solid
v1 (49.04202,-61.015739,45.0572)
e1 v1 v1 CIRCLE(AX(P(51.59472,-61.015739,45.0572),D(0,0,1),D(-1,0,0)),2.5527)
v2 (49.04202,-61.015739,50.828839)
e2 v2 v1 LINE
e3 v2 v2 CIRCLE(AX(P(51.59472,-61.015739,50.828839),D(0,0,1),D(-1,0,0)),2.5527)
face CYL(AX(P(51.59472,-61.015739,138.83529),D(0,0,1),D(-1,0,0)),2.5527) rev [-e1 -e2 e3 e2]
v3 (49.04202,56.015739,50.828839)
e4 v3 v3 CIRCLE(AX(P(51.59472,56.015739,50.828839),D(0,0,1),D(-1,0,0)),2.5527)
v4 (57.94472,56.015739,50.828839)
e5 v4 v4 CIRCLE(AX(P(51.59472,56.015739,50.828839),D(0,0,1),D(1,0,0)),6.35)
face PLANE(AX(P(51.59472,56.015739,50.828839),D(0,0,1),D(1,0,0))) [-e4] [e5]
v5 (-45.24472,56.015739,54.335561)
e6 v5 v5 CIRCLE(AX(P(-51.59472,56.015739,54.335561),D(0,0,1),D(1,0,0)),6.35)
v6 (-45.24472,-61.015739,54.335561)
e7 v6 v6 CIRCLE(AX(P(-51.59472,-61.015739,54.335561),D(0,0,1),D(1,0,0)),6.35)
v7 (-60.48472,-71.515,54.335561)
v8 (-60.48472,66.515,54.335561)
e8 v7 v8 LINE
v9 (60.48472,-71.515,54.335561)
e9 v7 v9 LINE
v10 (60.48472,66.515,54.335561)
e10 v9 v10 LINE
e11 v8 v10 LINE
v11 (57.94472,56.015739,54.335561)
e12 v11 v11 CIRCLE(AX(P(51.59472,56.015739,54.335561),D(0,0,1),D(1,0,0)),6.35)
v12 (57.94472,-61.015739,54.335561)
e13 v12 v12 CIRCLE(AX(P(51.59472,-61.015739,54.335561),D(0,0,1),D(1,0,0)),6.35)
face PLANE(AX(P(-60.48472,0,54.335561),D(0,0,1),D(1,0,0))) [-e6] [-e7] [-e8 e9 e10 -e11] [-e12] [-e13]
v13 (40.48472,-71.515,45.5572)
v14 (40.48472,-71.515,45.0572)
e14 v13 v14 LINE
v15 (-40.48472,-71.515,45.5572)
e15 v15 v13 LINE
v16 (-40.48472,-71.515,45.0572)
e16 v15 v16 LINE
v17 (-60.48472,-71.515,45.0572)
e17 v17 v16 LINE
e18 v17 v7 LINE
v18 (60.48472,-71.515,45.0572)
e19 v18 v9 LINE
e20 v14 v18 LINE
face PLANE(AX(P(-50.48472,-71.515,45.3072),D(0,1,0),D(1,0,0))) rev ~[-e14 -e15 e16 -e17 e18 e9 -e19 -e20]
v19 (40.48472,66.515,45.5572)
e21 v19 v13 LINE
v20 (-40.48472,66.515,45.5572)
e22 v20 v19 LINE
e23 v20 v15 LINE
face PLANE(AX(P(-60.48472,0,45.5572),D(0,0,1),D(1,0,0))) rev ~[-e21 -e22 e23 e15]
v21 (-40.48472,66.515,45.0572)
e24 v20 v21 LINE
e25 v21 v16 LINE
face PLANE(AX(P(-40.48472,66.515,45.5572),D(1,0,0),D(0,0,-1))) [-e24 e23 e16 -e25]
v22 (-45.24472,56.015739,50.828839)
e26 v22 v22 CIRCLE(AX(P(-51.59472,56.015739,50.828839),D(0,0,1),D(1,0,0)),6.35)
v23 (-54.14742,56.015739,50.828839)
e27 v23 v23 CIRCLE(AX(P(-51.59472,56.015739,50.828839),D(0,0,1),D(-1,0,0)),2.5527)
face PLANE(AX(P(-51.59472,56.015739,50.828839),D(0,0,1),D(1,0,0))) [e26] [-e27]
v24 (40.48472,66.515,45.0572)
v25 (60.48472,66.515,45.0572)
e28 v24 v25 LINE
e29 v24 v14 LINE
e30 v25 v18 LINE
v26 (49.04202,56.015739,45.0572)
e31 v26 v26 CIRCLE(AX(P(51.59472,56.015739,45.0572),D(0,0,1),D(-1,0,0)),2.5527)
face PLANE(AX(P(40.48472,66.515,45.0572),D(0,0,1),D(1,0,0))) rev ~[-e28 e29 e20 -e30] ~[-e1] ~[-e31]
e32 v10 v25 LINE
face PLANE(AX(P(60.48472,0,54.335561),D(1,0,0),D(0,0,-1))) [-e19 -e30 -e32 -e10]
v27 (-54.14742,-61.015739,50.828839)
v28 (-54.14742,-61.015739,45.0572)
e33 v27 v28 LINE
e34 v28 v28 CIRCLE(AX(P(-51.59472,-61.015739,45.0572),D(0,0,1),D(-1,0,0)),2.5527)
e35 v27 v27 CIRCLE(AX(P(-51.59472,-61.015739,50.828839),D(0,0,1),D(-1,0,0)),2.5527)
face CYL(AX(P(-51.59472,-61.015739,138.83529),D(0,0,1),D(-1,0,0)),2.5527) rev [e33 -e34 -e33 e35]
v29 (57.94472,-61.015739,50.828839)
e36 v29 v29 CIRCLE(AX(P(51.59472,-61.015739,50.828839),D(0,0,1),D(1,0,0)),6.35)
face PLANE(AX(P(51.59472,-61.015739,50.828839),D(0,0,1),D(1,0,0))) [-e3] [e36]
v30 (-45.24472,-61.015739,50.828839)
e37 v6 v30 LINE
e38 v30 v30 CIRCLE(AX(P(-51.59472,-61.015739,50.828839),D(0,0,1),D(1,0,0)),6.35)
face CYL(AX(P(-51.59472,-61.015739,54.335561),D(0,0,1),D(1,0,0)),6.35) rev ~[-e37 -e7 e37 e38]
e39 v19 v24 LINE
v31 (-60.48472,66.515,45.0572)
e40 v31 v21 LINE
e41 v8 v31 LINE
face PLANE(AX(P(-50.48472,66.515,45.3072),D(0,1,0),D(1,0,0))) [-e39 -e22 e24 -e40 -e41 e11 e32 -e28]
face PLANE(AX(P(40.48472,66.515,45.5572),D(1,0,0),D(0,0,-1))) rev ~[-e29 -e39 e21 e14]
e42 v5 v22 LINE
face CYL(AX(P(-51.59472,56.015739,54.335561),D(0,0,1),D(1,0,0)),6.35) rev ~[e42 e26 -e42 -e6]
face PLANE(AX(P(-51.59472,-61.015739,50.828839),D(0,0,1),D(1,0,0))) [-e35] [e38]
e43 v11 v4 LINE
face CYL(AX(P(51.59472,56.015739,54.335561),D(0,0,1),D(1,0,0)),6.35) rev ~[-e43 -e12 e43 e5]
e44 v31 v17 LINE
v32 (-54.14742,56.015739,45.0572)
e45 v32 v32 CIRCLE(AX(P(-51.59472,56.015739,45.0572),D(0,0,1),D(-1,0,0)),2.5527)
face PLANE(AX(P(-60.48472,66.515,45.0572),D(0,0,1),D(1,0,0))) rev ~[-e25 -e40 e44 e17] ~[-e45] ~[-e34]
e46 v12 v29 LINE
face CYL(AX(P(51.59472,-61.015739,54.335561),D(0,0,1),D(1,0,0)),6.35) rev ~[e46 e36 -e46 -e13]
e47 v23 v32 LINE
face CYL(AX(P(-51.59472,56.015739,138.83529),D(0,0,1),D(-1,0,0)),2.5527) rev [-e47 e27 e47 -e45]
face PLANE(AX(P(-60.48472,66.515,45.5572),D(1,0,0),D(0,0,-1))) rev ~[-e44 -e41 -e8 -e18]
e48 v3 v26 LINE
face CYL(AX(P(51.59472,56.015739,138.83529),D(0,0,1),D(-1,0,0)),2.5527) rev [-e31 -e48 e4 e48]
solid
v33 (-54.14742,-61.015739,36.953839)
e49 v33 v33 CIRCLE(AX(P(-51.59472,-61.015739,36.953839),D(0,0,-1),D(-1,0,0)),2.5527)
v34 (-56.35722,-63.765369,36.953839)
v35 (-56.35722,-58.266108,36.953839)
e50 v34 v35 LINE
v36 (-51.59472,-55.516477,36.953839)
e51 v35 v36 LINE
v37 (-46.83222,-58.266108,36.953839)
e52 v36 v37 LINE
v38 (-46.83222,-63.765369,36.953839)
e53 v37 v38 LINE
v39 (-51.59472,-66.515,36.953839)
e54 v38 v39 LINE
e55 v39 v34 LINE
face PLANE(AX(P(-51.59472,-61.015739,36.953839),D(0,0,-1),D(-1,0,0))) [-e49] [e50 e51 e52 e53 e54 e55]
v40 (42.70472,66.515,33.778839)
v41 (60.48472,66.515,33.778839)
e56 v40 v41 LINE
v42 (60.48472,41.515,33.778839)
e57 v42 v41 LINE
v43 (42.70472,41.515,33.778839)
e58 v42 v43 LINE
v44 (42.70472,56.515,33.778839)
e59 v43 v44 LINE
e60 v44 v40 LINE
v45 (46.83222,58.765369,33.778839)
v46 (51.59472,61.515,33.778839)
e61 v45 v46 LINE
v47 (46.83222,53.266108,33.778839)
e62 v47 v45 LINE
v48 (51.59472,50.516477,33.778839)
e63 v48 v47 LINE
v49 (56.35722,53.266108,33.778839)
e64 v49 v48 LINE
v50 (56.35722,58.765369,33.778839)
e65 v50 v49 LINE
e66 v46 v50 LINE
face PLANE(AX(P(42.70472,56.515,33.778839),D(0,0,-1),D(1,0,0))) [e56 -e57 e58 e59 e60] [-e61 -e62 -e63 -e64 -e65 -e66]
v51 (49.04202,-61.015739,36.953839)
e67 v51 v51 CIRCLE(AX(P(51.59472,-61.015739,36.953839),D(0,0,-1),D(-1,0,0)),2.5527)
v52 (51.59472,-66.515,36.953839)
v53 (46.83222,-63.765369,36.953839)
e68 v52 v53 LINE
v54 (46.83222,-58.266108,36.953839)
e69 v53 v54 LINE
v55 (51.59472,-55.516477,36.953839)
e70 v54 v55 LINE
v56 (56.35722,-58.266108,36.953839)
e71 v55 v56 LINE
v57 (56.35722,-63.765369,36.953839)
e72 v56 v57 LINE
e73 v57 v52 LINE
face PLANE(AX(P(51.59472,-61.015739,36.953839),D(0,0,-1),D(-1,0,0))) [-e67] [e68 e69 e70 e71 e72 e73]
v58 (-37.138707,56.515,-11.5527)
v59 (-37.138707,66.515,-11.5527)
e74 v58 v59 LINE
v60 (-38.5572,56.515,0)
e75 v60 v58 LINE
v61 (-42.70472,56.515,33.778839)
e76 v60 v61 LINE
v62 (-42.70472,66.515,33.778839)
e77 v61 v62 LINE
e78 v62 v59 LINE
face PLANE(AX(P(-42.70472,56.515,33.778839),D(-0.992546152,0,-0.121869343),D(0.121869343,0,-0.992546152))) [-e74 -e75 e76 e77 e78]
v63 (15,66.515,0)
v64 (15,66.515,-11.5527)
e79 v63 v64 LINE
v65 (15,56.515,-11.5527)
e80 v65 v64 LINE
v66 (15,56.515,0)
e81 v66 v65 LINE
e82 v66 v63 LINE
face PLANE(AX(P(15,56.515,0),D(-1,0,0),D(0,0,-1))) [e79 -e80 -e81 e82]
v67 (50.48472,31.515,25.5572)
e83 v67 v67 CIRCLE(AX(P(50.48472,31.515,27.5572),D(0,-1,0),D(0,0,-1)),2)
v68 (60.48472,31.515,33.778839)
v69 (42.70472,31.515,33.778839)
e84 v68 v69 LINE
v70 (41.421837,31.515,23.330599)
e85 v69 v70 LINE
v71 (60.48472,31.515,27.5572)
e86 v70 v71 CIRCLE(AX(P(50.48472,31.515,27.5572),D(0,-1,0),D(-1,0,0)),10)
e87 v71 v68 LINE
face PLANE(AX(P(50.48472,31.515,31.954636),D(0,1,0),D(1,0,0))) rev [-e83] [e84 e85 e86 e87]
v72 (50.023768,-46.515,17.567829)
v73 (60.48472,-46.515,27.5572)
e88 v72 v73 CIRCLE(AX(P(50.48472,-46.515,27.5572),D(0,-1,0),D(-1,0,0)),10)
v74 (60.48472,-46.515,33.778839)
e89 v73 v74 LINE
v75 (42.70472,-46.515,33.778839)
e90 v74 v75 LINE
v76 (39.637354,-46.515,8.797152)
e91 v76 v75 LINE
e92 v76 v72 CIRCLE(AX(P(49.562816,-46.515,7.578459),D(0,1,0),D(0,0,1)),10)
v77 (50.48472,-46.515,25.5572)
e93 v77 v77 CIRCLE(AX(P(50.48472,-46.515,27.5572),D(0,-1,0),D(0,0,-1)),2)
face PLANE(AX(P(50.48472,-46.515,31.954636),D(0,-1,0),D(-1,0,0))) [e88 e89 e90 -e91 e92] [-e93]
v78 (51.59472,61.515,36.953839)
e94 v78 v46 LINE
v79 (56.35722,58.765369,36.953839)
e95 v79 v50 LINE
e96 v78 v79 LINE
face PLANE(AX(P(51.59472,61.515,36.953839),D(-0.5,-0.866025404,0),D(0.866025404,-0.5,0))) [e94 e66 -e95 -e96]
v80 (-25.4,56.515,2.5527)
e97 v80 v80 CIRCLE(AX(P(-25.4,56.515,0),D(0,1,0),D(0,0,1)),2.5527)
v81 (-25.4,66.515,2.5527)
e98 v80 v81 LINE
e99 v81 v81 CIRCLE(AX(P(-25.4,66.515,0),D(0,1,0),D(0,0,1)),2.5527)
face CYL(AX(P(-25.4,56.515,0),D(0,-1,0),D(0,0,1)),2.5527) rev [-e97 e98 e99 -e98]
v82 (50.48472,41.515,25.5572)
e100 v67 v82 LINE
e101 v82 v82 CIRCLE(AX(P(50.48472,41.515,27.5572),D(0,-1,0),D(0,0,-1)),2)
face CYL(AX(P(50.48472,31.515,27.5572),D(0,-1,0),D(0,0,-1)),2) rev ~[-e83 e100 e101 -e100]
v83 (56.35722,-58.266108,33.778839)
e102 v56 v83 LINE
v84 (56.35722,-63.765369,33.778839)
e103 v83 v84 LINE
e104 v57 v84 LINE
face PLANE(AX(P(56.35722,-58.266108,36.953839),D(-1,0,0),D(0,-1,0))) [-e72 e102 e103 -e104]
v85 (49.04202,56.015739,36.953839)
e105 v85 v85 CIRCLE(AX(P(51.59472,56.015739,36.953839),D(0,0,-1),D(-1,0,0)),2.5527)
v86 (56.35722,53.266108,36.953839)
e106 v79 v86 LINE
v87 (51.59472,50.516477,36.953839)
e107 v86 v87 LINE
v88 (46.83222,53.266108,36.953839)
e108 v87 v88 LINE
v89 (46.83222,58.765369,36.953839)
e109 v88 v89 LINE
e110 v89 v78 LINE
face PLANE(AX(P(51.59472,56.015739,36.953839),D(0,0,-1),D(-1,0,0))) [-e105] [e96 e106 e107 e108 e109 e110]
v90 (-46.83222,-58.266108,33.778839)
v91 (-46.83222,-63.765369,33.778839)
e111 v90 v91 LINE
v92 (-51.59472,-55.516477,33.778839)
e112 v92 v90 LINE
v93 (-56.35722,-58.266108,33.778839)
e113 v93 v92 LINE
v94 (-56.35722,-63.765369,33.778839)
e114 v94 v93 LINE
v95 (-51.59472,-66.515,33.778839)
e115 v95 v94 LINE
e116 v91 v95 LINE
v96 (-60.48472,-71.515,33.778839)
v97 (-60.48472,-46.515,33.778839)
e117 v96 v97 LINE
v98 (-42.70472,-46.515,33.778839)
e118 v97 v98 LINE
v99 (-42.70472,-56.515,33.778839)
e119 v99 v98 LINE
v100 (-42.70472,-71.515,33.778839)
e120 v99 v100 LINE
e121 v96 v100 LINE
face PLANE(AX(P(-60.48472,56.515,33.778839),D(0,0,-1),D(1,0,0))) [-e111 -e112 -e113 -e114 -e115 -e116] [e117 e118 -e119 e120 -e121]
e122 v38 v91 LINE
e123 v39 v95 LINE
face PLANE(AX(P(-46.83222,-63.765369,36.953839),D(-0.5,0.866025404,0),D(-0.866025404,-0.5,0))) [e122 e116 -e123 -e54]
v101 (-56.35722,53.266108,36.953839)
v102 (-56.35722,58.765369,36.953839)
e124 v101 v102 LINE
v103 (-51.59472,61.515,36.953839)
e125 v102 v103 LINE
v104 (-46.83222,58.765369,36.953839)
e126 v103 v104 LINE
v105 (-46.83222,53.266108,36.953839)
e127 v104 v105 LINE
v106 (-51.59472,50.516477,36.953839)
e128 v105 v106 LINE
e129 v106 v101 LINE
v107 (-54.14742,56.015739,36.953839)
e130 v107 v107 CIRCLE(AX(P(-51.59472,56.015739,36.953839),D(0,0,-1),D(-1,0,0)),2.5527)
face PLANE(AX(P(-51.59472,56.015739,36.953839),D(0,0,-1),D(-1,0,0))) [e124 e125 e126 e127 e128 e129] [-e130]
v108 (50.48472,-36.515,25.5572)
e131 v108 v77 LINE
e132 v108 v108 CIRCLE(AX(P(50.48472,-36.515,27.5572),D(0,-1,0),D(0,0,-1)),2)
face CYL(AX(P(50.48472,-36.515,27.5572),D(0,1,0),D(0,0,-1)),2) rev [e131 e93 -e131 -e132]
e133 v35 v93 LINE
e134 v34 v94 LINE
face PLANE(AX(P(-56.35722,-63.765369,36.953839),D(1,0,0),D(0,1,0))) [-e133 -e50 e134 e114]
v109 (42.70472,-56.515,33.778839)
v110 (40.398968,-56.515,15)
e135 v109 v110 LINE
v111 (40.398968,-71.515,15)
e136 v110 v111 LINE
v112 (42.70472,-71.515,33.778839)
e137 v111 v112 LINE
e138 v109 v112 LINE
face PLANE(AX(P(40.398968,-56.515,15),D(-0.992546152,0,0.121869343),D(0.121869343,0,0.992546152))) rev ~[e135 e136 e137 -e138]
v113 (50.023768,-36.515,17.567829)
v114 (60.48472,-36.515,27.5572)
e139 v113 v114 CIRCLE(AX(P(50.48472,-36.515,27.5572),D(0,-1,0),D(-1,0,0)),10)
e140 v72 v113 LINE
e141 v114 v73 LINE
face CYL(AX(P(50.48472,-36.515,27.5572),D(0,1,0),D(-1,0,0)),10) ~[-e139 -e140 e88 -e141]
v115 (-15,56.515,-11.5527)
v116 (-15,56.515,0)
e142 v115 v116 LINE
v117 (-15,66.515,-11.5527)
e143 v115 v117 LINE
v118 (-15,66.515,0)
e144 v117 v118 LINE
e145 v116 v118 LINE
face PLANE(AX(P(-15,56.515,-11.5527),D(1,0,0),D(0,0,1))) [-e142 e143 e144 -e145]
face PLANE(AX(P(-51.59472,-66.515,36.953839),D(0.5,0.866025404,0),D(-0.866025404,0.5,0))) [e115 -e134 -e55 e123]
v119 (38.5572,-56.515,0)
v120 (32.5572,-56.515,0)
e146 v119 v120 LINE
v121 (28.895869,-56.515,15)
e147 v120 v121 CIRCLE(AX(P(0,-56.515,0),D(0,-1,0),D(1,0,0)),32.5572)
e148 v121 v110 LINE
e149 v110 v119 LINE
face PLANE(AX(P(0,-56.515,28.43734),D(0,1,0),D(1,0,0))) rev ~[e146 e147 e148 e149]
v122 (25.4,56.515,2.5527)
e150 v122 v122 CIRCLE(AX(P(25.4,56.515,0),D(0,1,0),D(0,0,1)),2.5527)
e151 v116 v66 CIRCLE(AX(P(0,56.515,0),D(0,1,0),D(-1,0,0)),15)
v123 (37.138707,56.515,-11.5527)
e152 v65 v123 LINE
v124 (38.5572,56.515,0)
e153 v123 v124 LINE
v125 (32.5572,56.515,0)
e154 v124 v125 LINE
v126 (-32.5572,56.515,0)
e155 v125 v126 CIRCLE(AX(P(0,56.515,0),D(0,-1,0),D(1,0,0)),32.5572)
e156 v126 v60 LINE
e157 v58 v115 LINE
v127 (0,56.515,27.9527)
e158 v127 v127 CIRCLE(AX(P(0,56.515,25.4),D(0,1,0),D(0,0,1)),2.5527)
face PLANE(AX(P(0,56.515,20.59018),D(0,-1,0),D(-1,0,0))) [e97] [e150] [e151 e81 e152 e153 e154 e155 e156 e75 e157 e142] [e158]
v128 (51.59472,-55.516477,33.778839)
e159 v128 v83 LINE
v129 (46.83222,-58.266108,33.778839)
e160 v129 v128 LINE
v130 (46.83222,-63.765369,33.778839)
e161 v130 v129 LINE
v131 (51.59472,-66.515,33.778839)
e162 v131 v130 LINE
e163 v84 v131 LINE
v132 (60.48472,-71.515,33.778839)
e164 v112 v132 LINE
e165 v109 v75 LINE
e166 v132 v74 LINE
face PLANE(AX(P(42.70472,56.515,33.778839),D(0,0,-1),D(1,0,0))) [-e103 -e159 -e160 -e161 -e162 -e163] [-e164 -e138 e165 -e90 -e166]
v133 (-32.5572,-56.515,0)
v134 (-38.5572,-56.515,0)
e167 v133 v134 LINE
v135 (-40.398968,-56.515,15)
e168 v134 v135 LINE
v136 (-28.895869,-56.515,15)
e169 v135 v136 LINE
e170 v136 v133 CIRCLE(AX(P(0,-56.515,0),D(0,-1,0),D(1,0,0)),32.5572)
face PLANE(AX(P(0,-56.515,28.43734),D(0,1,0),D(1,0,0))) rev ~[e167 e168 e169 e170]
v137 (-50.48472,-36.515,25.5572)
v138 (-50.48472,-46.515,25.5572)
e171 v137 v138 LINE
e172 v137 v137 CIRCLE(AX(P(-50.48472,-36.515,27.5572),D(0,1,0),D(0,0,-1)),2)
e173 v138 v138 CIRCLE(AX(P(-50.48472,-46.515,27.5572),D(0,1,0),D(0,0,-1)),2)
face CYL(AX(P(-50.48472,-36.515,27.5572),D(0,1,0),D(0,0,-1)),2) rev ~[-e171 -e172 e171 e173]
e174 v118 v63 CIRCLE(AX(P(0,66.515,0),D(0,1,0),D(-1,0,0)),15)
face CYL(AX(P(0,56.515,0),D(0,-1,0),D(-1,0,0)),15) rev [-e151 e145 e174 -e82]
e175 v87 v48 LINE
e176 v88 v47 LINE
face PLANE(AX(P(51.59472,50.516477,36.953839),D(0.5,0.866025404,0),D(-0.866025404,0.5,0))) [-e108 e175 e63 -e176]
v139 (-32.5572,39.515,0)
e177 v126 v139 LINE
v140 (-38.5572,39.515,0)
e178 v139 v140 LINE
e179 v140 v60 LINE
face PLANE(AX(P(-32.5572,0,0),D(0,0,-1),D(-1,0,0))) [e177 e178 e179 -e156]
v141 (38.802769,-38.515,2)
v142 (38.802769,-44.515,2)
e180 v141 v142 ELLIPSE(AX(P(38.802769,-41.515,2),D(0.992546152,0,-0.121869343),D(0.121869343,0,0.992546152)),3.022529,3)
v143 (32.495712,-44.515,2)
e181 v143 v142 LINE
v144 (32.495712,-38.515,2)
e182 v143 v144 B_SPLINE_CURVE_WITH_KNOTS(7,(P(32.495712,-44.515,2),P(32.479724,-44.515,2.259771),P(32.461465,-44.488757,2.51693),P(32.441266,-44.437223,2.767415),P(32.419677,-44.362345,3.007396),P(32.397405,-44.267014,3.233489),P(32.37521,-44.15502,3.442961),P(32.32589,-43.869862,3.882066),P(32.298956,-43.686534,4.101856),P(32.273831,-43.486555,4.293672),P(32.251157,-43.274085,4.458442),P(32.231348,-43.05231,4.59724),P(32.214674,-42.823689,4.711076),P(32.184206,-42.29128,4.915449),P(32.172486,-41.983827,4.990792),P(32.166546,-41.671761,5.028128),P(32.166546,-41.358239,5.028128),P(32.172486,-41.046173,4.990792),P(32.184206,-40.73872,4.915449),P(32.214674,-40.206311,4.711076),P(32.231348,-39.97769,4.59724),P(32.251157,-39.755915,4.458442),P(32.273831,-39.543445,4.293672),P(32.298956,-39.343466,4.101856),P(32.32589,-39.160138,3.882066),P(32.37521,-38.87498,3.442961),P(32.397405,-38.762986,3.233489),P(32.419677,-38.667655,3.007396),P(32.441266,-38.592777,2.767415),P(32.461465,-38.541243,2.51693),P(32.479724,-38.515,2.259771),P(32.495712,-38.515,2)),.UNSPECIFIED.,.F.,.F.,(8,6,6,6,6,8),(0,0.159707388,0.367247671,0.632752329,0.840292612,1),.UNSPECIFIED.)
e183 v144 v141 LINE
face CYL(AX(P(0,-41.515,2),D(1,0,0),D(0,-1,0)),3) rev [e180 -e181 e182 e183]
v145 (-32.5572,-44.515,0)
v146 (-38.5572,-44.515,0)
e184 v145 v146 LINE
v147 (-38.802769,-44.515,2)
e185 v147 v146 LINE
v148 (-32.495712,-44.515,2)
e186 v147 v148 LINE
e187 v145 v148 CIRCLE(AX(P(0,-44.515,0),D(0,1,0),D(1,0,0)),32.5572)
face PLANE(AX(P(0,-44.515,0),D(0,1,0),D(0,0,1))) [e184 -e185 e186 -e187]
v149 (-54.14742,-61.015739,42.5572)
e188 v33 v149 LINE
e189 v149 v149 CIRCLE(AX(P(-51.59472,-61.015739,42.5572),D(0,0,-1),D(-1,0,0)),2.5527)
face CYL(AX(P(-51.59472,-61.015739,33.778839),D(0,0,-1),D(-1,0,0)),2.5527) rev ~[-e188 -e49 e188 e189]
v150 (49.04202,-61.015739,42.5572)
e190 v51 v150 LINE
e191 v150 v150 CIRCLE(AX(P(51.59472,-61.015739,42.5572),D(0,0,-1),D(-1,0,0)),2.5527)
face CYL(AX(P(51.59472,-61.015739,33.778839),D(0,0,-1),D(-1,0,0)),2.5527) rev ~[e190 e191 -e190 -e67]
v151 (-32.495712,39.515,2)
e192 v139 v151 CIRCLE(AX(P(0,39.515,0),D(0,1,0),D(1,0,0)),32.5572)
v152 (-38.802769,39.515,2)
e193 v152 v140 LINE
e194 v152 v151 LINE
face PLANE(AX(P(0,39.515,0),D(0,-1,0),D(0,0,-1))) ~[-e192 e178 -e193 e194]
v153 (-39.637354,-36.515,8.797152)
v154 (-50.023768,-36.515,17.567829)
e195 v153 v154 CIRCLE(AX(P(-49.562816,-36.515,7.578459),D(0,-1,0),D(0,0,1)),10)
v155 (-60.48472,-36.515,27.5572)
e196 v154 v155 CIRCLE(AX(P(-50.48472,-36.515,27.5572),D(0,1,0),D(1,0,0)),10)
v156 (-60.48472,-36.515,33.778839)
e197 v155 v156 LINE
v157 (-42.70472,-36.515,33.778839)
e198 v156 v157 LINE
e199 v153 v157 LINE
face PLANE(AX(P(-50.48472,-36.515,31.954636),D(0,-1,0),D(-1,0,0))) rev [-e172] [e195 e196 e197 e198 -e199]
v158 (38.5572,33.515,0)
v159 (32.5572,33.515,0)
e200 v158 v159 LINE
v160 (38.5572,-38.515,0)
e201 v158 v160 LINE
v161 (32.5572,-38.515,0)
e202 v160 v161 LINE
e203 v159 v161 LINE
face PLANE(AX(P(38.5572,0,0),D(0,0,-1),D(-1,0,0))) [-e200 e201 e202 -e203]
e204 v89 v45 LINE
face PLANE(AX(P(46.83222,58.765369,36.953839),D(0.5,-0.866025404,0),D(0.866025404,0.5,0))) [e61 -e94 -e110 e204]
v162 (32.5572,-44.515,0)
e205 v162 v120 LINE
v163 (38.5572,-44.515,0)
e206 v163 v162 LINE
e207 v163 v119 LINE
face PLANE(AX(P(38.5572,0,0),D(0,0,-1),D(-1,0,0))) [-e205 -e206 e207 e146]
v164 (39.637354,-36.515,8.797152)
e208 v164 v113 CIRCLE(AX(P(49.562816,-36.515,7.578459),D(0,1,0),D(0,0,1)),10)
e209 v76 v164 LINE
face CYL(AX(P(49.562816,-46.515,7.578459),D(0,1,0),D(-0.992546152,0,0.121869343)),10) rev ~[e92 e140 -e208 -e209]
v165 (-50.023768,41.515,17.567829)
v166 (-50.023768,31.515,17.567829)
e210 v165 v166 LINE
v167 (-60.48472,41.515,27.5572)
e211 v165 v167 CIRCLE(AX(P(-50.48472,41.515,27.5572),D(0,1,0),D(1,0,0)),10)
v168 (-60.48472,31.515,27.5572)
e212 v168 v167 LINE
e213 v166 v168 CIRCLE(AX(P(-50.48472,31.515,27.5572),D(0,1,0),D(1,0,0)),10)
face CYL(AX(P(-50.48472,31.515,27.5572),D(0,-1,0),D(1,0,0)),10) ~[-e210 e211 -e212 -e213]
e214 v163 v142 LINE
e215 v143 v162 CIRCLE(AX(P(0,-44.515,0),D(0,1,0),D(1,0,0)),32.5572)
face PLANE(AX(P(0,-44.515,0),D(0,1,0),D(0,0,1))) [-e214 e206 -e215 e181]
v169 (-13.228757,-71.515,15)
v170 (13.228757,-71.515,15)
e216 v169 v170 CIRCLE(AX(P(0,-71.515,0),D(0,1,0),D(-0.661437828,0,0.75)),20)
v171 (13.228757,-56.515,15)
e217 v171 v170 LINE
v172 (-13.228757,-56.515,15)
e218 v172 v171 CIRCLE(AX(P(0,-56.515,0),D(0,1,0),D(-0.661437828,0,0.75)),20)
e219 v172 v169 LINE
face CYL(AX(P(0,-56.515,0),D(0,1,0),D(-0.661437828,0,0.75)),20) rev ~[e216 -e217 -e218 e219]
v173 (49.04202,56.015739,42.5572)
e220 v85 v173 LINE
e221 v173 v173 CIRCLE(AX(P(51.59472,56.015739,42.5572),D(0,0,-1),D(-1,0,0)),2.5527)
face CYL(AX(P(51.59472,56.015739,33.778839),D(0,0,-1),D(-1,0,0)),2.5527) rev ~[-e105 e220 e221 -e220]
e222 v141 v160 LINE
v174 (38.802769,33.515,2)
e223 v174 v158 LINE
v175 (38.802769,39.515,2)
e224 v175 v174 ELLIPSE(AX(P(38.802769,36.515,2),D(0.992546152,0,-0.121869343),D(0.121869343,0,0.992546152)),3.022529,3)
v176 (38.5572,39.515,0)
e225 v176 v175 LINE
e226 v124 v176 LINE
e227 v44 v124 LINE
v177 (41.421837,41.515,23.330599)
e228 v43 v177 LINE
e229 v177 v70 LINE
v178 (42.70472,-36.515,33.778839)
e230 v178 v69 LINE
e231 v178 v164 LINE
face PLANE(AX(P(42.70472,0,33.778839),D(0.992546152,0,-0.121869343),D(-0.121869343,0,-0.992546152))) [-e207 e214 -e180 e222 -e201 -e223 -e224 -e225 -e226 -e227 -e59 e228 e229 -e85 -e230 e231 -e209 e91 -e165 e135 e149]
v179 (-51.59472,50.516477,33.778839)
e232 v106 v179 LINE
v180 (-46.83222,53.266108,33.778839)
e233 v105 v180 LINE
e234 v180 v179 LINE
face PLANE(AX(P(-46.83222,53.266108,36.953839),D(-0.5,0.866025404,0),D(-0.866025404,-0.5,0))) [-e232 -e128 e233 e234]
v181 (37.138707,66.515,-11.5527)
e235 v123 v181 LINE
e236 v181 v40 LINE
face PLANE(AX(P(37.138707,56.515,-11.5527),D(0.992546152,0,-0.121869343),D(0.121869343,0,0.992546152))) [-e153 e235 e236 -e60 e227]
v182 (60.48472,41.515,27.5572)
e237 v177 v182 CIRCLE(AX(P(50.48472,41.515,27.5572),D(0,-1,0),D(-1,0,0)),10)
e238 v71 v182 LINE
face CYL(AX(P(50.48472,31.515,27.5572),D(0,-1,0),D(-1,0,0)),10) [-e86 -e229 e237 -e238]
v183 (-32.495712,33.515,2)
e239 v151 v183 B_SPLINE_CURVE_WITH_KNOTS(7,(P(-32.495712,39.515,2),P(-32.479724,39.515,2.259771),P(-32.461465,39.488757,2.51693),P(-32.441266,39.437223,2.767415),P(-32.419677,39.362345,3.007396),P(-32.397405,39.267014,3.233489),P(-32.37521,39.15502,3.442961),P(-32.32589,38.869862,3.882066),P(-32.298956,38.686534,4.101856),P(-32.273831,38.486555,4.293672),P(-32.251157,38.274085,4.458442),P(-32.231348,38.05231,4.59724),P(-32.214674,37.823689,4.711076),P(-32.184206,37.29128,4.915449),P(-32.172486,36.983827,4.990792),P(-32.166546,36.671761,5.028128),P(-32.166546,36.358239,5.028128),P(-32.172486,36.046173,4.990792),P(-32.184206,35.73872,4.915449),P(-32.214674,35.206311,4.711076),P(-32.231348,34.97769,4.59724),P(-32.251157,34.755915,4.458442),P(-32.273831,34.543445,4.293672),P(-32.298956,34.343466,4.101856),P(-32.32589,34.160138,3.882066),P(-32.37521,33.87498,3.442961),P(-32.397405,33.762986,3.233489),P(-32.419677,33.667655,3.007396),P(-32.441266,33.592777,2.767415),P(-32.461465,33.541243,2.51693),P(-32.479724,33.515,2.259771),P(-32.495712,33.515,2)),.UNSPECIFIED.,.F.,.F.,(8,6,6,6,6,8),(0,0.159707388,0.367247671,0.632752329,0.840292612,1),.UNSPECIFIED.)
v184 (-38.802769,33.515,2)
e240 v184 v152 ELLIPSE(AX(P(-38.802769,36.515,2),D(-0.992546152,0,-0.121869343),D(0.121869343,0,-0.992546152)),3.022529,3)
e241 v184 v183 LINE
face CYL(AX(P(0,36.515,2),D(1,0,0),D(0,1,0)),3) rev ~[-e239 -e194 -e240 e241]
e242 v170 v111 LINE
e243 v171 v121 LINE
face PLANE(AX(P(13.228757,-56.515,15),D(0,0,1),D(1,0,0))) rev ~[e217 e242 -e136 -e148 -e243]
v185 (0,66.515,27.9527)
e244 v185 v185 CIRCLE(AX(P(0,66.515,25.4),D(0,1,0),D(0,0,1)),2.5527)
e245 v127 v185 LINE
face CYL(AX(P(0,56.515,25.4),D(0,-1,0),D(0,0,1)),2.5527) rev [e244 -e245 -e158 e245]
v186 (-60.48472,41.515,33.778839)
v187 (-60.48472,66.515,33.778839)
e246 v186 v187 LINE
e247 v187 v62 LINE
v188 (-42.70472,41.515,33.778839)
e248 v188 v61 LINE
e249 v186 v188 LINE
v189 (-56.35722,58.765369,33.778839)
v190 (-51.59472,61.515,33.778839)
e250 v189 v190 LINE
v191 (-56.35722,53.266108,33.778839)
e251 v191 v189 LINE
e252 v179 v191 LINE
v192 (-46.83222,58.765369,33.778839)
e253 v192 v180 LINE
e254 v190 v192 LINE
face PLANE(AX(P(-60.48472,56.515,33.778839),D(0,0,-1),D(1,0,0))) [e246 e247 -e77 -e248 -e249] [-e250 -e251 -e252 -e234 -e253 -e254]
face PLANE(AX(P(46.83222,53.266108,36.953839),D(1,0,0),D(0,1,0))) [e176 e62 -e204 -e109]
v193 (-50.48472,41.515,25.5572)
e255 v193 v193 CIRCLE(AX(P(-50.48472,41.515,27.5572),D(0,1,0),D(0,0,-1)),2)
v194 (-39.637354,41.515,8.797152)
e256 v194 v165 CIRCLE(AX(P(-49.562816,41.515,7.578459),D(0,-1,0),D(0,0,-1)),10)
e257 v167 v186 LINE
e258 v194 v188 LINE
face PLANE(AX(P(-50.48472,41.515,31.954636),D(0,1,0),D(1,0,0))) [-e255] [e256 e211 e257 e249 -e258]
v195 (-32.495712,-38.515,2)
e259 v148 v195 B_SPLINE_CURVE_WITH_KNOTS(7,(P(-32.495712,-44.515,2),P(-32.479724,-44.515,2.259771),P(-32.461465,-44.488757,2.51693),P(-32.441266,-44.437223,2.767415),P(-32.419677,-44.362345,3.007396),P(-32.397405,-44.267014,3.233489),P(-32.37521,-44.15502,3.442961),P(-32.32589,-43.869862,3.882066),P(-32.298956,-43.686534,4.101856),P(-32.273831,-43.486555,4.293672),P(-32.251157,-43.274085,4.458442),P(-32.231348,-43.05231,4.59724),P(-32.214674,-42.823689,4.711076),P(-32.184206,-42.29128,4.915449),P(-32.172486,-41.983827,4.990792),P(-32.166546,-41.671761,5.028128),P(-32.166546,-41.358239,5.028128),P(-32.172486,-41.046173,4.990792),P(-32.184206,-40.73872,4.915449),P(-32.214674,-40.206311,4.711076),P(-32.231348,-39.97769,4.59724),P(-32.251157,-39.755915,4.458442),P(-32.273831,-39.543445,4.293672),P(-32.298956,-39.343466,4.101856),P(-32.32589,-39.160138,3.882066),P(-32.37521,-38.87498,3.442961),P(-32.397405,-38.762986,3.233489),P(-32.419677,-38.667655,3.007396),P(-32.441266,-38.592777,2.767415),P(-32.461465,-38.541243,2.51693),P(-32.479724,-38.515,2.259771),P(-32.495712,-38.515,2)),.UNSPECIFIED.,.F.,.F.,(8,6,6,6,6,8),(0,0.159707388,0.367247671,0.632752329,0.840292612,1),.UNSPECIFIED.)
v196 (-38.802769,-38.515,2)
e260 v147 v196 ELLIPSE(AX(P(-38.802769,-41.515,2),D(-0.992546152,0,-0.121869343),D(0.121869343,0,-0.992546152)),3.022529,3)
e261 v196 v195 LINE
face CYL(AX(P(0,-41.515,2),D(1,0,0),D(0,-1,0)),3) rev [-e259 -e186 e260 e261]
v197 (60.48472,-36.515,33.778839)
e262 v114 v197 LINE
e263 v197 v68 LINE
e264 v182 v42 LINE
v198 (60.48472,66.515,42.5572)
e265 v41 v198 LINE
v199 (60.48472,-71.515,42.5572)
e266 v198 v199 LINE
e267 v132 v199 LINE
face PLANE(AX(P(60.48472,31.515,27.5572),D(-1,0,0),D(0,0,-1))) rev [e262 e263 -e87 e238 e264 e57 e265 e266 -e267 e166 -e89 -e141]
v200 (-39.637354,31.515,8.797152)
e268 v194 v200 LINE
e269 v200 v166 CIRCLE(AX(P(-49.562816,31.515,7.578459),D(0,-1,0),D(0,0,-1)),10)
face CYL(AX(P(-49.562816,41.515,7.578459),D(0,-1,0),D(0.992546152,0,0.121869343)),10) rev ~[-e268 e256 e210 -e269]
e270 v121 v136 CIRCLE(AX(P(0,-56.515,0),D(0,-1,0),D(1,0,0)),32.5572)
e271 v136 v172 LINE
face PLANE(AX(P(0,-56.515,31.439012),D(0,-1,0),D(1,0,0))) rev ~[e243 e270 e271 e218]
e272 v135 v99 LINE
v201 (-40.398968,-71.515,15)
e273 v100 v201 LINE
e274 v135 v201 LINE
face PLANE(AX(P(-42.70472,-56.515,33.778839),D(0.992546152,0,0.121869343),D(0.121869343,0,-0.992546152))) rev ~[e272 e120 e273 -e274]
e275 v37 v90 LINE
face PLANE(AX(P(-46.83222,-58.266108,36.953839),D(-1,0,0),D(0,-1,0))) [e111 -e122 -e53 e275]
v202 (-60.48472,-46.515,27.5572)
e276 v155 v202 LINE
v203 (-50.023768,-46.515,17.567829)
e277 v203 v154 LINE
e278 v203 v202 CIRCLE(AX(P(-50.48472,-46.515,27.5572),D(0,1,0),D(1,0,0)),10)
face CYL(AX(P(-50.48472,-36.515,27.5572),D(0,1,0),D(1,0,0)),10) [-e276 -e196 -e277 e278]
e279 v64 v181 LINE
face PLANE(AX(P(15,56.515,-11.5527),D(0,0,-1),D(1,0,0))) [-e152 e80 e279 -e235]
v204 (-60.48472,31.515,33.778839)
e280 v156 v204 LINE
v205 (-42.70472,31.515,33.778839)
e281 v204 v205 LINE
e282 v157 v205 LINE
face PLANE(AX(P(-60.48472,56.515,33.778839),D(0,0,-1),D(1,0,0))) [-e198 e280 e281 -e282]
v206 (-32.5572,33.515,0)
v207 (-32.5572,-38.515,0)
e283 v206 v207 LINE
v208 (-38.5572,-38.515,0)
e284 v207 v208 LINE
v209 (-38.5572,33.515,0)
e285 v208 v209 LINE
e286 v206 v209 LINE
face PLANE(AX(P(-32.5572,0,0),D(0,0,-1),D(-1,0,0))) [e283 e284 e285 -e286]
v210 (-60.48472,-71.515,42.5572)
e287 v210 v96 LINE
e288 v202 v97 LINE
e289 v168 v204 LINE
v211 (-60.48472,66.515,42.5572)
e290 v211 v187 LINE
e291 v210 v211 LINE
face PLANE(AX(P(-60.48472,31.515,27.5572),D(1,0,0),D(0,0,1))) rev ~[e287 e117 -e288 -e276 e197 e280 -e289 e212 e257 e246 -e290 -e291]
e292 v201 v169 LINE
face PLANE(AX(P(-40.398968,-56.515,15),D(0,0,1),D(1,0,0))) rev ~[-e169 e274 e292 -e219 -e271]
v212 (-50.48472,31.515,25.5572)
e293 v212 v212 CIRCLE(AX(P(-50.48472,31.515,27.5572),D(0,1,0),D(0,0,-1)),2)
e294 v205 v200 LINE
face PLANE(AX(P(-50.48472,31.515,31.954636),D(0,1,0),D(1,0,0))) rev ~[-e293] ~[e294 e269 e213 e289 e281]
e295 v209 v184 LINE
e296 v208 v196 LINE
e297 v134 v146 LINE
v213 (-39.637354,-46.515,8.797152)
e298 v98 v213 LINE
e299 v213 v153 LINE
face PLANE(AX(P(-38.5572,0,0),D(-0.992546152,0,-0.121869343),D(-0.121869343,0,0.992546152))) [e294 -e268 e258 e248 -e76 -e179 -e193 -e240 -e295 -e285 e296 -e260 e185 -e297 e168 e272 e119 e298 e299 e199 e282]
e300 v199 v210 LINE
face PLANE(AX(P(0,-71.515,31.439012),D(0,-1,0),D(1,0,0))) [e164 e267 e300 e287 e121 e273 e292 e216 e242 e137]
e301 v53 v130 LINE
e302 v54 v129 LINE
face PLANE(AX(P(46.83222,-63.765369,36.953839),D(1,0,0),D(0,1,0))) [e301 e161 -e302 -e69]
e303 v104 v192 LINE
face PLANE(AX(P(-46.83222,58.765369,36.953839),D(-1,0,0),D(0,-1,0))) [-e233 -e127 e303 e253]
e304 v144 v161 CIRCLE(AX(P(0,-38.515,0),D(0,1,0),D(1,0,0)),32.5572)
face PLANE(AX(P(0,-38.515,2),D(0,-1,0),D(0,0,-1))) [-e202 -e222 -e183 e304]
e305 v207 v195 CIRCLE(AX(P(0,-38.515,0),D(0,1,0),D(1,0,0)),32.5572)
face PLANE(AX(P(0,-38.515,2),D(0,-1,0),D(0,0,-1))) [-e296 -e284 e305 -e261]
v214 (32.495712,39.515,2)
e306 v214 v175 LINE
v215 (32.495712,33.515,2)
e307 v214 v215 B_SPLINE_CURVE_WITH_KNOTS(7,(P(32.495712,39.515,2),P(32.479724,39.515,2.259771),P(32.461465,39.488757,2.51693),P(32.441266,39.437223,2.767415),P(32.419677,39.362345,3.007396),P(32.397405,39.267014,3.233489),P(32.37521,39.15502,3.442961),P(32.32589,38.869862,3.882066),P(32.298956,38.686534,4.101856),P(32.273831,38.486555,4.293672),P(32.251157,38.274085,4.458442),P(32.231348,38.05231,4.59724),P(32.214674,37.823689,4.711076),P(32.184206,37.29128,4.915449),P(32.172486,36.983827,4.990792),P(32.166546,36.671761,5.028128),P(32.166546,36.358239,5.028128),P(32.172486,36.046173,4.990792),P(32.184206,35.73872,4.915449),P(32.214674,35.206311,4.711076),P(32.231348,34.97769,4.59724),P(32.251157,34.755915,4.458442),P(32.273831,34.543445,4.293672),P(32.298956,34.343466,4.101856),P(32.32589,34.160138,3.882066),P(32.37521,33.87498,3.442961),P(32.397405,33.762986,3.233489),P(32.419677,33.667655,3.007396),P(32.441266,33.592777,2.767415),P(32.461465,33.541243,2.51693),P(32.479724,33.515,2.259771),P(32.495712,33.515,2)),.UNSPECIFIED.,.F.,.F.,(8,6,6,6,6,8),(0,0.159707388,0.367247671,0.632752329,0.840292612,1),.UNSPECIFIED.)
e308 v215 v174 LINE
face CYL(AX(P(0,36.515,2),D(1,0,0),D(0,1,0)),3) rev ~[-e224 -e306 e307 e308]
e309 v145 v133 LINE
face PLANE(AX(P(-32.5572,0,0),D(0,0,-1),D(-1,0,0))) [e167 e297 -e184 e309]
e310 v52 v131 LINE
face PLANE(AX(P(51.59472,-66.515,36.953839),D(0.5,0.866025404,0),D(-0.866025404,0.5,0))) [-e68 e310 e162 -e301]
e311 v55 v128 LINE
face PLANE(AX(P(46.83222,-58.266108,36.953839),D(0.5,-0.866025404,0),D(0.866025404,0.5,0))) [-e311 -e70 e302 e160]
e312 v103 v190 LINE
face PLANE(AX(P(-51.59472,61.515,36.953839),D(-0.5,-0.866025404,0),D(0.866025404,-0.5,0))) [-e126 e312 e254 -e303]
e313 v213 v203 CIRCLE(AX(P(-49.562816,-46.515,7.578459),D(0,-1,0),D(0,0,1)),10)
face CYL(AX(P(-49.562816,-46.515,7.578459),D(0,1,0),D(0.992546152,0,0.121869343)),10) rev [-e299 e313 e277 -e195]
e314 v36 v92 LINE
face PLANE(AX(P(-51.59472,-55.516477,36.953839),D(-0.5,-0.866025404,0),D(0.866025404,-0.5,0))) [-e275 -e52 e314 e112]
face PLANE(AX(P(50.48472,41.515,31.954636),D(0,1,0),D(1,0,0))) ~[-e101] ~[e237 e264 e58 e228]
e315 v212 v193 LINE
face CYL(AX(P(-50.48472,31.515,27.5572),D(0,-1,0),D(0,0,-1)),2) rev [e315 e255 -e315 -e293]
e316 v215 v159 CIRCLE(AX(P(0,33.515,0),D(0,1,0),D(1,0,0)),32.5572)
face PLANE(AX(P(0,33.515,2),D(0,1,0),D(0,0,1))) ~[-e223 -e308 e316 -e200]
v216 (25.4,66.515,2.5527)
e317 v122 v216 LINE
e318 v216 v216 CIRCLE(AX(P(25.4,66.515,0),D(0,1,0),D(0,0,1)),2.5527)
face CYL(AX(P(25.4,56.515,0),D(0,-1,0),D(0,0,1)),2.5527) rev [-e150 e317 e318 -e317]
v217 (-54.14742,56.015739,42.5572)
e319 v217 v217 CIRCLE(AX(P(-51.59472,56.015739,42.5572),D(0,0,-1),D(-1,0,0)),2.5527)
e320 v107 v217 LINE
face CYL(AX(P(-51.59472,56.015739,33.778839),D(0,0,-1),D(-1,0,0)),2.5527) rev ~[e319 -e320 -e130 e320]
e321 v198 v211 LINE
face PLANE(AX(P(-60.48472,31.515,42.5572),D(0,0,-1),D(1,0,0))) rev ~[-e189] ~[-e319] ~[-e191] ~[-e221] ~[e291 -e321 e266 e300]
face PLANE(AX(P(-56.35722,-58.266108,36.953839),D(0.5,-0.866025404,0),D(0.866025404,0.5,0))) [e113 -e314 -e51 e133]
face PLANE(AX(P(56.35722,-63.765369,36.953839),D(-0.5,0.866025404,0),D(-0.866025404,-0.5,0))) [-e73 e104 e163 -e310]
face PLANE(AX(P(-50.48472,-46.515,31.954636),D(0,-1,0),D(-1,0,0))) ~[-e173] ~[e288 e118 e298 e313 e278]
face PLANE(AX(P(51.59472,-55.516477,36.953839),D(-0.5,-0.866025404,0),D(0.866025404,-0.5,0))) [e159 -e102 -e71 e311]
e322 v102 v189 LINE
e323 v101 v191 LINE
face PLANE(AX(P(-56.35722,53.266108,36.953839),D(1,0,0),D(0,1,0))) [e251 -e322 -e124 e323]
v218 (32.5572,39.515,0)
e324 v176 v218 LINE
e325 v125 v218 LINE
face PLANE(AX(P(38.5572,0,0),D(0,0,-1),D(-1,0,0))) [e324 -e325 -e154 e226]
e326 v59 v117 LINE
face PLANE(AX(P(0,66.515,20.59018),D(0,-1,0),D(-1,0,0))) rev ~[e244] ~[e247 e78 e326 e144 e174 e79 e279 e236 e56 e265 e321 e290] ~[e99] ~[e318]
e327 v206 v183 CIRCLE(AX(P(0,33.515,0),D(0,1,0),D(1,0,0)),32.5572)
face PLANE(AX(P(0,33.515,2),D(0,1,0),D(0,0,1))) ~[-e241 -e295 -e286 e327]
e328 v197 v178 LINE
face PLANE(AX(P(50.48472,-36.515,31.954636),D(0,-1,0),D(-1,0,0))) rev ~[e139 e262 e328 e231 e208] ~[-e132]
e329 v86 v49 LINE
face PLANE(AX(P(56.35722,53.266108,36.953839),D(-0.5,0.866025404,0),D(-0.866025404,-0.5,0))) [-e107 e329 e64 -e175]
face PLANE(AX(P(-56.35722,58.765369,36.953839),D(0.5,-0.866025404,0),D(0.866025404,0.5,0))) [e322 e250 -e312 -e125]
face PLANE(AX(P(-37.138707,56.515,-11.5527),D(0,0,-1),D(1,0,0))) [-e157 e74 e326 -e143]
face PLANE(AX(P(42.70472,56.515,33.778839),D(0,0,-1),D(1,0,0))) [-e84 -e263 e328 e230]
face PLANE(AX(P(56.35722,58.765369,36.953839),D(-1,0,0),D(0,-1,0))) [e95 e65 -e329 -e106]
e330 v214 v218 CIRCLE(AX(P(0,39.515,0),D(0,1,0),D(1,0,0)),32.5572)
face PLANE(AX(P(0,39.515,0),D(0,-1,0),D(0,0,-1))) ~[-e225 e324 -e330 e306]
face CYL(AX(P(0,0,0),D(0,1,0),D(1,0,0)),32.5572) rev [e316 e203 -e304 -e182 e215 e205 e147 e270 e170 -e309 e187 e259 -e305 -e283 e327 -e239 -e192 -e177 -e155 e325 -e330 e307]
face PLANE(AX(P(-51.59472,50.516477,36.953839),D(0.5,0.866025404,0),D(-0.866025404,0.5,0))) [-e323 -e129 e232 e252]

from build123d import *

# Parameters (mm, degrees)
BOSS_EXTRUDE1_DEPTH             = 56.515
BOSS_EXTRUDE2_DEPTH             = 15
SKETCH5_R                       = 2.5527
BOSS_EXTRUDE3_DEPTH             = 10
CUT_EXTRUDE1_START              = -3.175
CUT_EXTRUDE1_DEPTH              = 3.175
CUT_EXTRUDE2_REACH              = 106.056
SKETCH9_R                       = 2.5527
BOSS_EXTRUDE4_REACH             = 104.878
SKETCH1_3_W                     = 120.969439872
SKETCH1_3_H                     = 8.778360828
BOSS_EXTRUDE4_DIRECTION_2_REACH = 104.878
SKETCH10_R                      = 6.35
CUT_EXTRUDE3_DEPTH              = 3.506722
SKETCH11_W                      = 20
SKETCH11_H                      = 0.5
BOSS_EXTRUDE5_DEPTH             = 138.03
CUT_EXTRUDE4_DEPTH              = 105.056451094
CUT_EXTRUDE4_DEPTH_BACK         = 105.056451094
SKETCH9_2_R                     = 2.5527
SKETCH13_R                      = 2
BOSS_EXTRUDE6_DEPTH             = 10
FILLET2_R                       = 10
CUT_EXTRUDE5_DEPTH              = 109.282730577
FILLET4_R                       = 10
MIRROR2_COPY_1_SKETCH_R         = 2
MIRROR2_COPY_1_DEPTH            = 10
FILLET4_OF_MIRROR2_R            = 10


with BuildPart() as part:
    # Sketch1 → Boss-Extrude1 (new, symmetric)
    with BuildSketch(Plane(origin=(0, 0, 0), x_dir=(1, 0, 0), z_dir=(0, 1, 0))):
        with BuildLine():
            Line((-32.5572, 0), (-38.5572, 0))
            Line((-38.5572, 0), (-42.704719936, -33.778839172))
            Line((-42.704719936, -33.778839172), (-60.484719936, -33.778839172))
            Line((-60.484719936, -33.778839172), (-60.484719936, -42.5572))
            Line((-60.484719936, -42.5572), (60.484719936, -42.5572))
            Line((60.484719936, -42.5572), (60.484719936, -33.778839172))
            Line((60.484719936, -33.778839172), (42.704719936, -33.778839172))
            Line((42.704719936, -33.778839172), (38.5572, 0))
            Line((38.5572, 0), (32.5572, 0))
            ThreePointArc((32.5572, 0), (0, -32.5572), (-32.5572, 0))
        make_face()
    extrude(amount=BOSS_EXTRUDE1_DEPTH, both=True)

    # Sketch4 → Boss-Extrude2 (add)
    with BuildSketch(Plane.XZ.offset(56.515)):
        with BuildLine():
            Line((60.484719936, 42.5572), (-60.484719936, 42.5572))
            Line((-60.484719936, 42.5572), (-60.484719936, 33.778839172))
            Line((-60.484719936, 33.778839172), (-42.704719936, 33.778839172))
            Line((-42.704719936, 33.778839172), (-40.398968414, 15))
            Line((-40.398968414, 15), (-13.228756555, 15))
            ThreePointArc((-13.228756555, 15), (0, 20), (13.228756555, 15))
            Line((13.228756555, 15), (40.398968414, 15))
            Line((40.398968414, 15), (42.704719936, 33.778839172))
            Line((42.704719936, 33.778839172), (60.484719936, 33.778839172))
            Line((60.484719936, 33.778839172), (60.484719936, 42.5572))
        make_face()
    extrude(amount=BOSS_EXTRUDE2_DEPTH)

    # Sketch5 → Boss-Extrude3 (add)
    with BuildSketch(Plane(origin=(0, 56.515, 0), x_dir=(1, 0, 0), z_dir=(0, 1, 0))):
        with BuildLine():
            Line((-42.704719936, -33.778839172), (-37.138706803, 11.5527))
            Line((-37.138706803, 11.5527), (-15, 11.5527))
            Line((-15, 11.5527), (-15, 0))
            ThreePointArc((-15, 0), (0, -15), (15, 0))
            Line((15, 0), (15, 11.5527))
            Line((15, 11.5527), (37.138706803, 11.5527))
            Line((37.138706803, 11.5527), (42.704719936, -33.778839172))
            Line((42.704719936, -33.778839172), (60.484719936, -33.778839172))
            Line((60.484719936, -33.778839172), (60.484719936, -42.5572))
            Line((60.484719936, -42.5572), (-60.484719936, -42.5572))
            Line((-60.484719936, -42.5572), (-60.484719936, -33.778839172))
            Line((-60.484719936, -33.778839172), (-42.704719936, -33.778839172))
        make_face()
        with Locations(Location((0, -25.4, 0), (0, 0, 270))):
            Circle(SKETCH5_R, mode=Mode.SUBTRACT)
        with Locations(Location((25.4, 0, 0), (0, 0, 270))):
            Circle(SKETCH5_R, mode=Mode.SUBTRACT)
        with Locations(Location((-25.4, 0, 0), (0, 0, 270))):
            Circle(SKETCH5_R, mode=Mode.SUBTRACT)
    extrude(amount=BOSS_EXTRUDE3_DEPTH)

    # Sketch7 → Cut-Extrude1 (cut)
    with BuildSketch(Plane(origin=(0, 0, 33.778839172), x_dir=(-1, 0, 0), z_dir=(0, 0, -1)).offset(CUT_EXTRUDE1_START)):
        Polygon((51.594719936, -55.516477372), (46.832219936, -58.266108029), (46.832219936, -63.765369343), (51.594719936, -66.515), (56.357219936, -63.765369343), (56.357219936, -58.266108029), align=None)
        Polygon((46.832219936, 53.266108029), (51.594719936, 50.516477372), (56.357219936, 53.266108029), (56.357219936, 58.765369343), (51.594719936, 61.515), (46.832219936, 58.765369343), align=None)
        Polygon((-46.832219936, -58.266108029), (-51.594719936, -55.516477372), (-56.357219936, -58.266108029), (-56.357219936, -63.765369343), (-51.594719936, -66.515), (-46.832219936, -63.765369343), align=None)
        Polygon((-51.594719936, 50.516477372), (-46.832219936, 53.266108029), (-46.832219936, 58.765369343), (-51.594719936, 61.515), (-56.357219936, 58.765369343), (-56.357219936, 53.266108029), align=None)
    extrude(amount=CUT_EXTRUDE1_DEPTH, mode=Mode.SUBTRACT)

    # Sketch9 → Cut-Extrude2 (cut, up to next)
    with BuildSketch(Plane(origin=(0, 0, 33.778839172), x_dir=(-1, 0, 0), z_dir=(0, 0, -1)), mode=Mode.PRIVATE) as cut_extrude2_sk1:
        with Locations((51.594719936, 56.015738686)):
            Circle(SKETCH9_R)
    cut_extrude2_tool1 = extrude(cut_extrude2_sk1.sketch, amount=-CUT_EXTRUDE2_REACH, mode=Mode.PRIVATE) & part.part
    # Sketch9 → Cut-Extrude2 (cut, up to next)
    with BuildSketch(Plane(origin=(0, 0, 33.778839172), x_dir=(-1, 0, 0), z_dir=(0, 0, -1)), mode=Mode.PRIVATE) as cut_extrude2_sk2:
        with Locations((51.594719936, -61.015738686)):
            Circle(SKETCH9_R)
    cut_extrude2_tool2 = extrude(cut_extrude2_sk2.sketch, amount=-CUT_EXTRUDE2_REACH, mode=Mode.PRIVATE) & part.part
    # Sketch9 → Cut-Extrude2 (cut, up to next)
    with BuildSketch(Plane(origin=(0, 0, 33.778839172), x_dir=(-1, 0, 0), z_dir=(0, 0, -1)), mode=Mode.PRIVATE) as cut_extrude2_sk3:
        with Locations((-51.594719936, -61.015738686)):
            Circle(SKETCH9_R)
    cut_extrude2_tool3 = extrude(cut_extrude2_sk3.sketch, amount=-CUT_EXTRUDE2_REACH, mode=Mode.PRIVATE) & part.part
    # Sketch9 → Cut-Extrude2 (cut, up to next)
    with BuildSketch(Plane(origin=(0, 0, 33.778839172), x_dir=(-1, 0, 0), z_dir=(0, 0, -1)), mode=Mode.PRIVATE) as cut_extrude2_sk4:
        with Locations((-51.594719936, 56.015738686)):
            Circle(SKETCH9_R)
    cut_extrude2_tool4 = extrude(cut_extrude2_sk4.sketch, amount=-CUT_EXTRUDE2_REACH, mode=Mode.PRIVATE) & part.part
    add(cut_extrude2_tool1.solids().sort_by_distance((-51.59472, 56.015739, 33.778839))[0], mode=Mode.SUBTRACT)
    add(cut_extrude2_tool2.solids().sort_by_distance((-51.59472, -61.015739, 33.778839))[0], mode=Mode.SUBTRACT)
    add(cut_extrude2_tool3.solids().sort_by_distance((51.59472, -61.015739, 33.778839))[0], mode=Mode.SUBTRACT)
    add(cut_extrude2_tool4.solids().sort_by_distance((51.59472, 56.015739, 33.778839))[0], mode=Mode.SUBTRACT)


with BuildPart() as body_2:

    # Boss-Extrude4: up to this face of the body (flat: up to its plane)
    boss_extrude4_end = Plane(part.part.faces().sort_by_distance((0, 66.515, 20.891367275))[0])
    # Sketch1<3> → Boss-Extrude4 (new, up to the picked face)
    with BuildSketch(Plane(origin=(0, 0, 0), x_dir=(1, 0, 0), z_dir=(0, 1, 0)), mode=Mode.PRIVATE) as boss_extrude4_sk1:
        with Locations((0, -49.946380414)):
            Rectangle(SKETCH1_3_W, SKETCH1_3_H)
    boss_extrude4_tool1 = split(extrude(boss_extrude4_sk1.sketch, amount=BOSS_EXTRUDE4_REACH, mode=Mode.PRIVATE), bisect_by=boss_extrude4_end, keep=Keep.BOTH, mode=Mode.PRIVATE)
    add(boss_extrude4_tool1.solids().sort_by(Axis((0, 0, 49.94638), (0, 1, 0)))[0])


    # Boss-Extrude4 direction 2: up to this face of the body (flat: up to its plane)
    boss_extrude4_direction_2_end = Plane(part.part.faces().sort_by_distance((0, -71.515, 30.485789966))[0])
    # Sketch1<3> → Boss-Extrude4 direction 2 (add, up to the picked face)
    with BuildSketch(Plane(origin=(0, 0, 0), x_dir=(1, 0, 0), z_dir=(0, 1, 0)), mode=Mode.PRIVATE) as boss_extrude4_direction_2_sk1:
        with Locations((0, -49.946380414)):
            Rectangle(SKETCH1_3_W, SKETCH1_3_H)
    boss_extrude4_direction_2_tool1 = split(extrude(boss_extrude4_direction_2_sk1.sketch, amount=-BOSS_EXTRUDE4_DIRECTION_2_REACH, mode=Mode.PRIVATE), bisect_by=boss_extrude4_direction_2_end, keep=Keep.BOTH, mode=Mode.PRIVATE)
    add(boss_extrude4_direction_2_tool1.solids().sort_by(Axis((0, 0, 49.94638), (0, -1, 0)))[0])

    # Sketch10 → Cut-Extrude3 (cut)
    with BuildSketch(Plane.XY.offset(54.335560828)):
        with Locations((-51.594719936, 56.015738686)):
            Circle(SKETCH10_R)
        with Locations((51.594719936, 56.015738686)):
            Circle(SKETCH10_R)
        with Locations((51.594719936, -61.015738686)):
            Circle(SKETCH10_R)
        with Locations((-51.594719936, -61.015738686)):
            Circle(SKETCH10_R)
    extrude(amount=-CUT_EXTRUDE3_DEPTH, mode=Mode.SUBTRACT)

    # Sketch11 → Boss-Extrude5 (add)
    with BuildSketch(Plane(origin=(0, 66.515, 0), x_dir=(1, 0, 0), z_dir=(0, 1, 0))):
        with Locations((-50.484719936, -45.3072)):
            Rectangle(SKETCH11_W, SKETCH11_H)
        with Locations((50.484719936, -45.3072)):
            Rectangle(SKETCH11_W, SKETCH11_H)
    extrude(amount=-BOSS_EXTRUDE5_DEPTH)

    # Sketch9<2> → Cut-Extrude4 (cut, two sides: drawn at the far end of the back side and taken through both)
    with BuildSketch(Plane(origin=(0, 0, 33.778839172), x_dir=(-1, 0, 0), z_dir=(0, 0, -1)).offset(-CUT_EXTRUDE4_DEPTH_BACK)):
        with Locations((51.594719936, 56.015738686)):
            Circle(SKETCH9_2_R)
        with Locations((51.594719936, -61.015738686)):
            Circle(SKETCH9_2_R)
        with Locations((-51.594719936, -61.015738686)):
            Circle(SKETCH9_2_R)
        with Locations((-51.594719936, 56.015738686)):
            Circle(SKETCH9_2_R)
    extrude(amount=CUT_EXTRUDE4_DEPTH + CUT_EXTRUDE4_DEPTH_BACK, mode=Mode.SUBTRACT)


with BuildPart() as part_1:
    add(part.part)

    # Sketch13 → Boss-Extrude6 (add)
    with BuildSketch(Plane(origin=(0, -36.515, 0), x_dir=(-1, 0, 0), z_dir=(0, -1, 0))):
        with BuildLine():
            Line((-60.484719936, -27.5572), (-60.484719936, -42.5572))
            Line((-60.484719936, -42.5572), (-40.484719936, -42.5572))
            Line((-40.484719936, -42.5572), (-40.484719936, -27.5572))
            ThreePointArc((-40.484719936, -27.5572), (-50.484719936, -17.5572), (-60.484719936, -27.5572))
        make_face()
        with Locations(Location((-50.484719936, -27.5572, 0), (0, 0, 90))):
            Circle(SKETCH13_R, mode=Mode.SUBTRACT)
    boss_extrude6 = extrude(amount=BOSS_EXTRUDE6_DEPTH)

    # Fillet2
    fillet2_edges = [part_1.edges().sort_by_distance(p)[0] for p in [
        (41.421837316, -41.515, 23.330598691),
    ]]
    fillet(fillet2_edges, radius=FILLET2_R)

    # Sketch15 → Cut-Extrude5 (cut, symmetric)
    with BuildSketch(Plane(origin=(0, 0, 0), x_dir=(0, 0, -1), z_dir=(1, 0, 0))):
        with BuildLine():
            Line((-2, -38.515), (0, -38.515))
            ThreePointArc((0, -38.515), (3, -41.515), (0, -44.515))
            Line((0, -44.515), (-2, -44.515))
            ThreePointArc((-2, -44.515), (-5, -41.515), (-2, -38.515))
        make_face()
    cut_extrude5 = extrude(amount=CUT_EXTRUDE5_DEPTH, both=True, mode=Mode.SUBTRACT)

    # Mirror1: Boss-Extrude6 across plane
    add(boss_extrude6.mirror(Plane(origin=(0, 0, 0), x_dir=(0, 0, 1), z_dir=(1, 0, 0))))

    # Fillet4
    fillet4_edges = [part_1.edges().sort_by_distance(p)[0] for p in [
        (-41.421837316, -41.515, 23.330598691),
    ]]
    fillet(fillet4_edges, radius=FILLET4_R)

    # Mirror2: Boss-Extrude6, Cut-Extrude5 across plane
    add(boss_extrude6.mirror(Plane(origin=(0, -2.5, 0), x_dir=(0, 0, 1), z_dir=(0, -1, 0))))
    add(cut_extrude5.mirror(Plane(origin=(0, -2.5, 0), x_dir=(0, 0, 1), z_dir=(0, -1, 0))), mode=Mode.SUBTRACT)

    # Mirror2 copy 1 sketch → Mirror2 copy 1 (add)
    with BuildSketch(Plane(origin=(0, 31.515, 0), x_dir=(1, 0, 0), z_dir=(0, 1, 0))):
        with BuildLine():
            Line((-60.484719936, -27.5572), (-60.484719936, -42.5572))
            Line((-60.484719936, -42.5572), (-40.484719936, -42.5572))
            Line((-40.484719936, -42.5572), (-40.484719936, -27.5572))
            ThreePointArc((-40.484719936, -27.5572), (-50.484719936, -17.5572), (-60.484719936, -27.5572))
        make_face()
        with Locations(Location((-50.484719936, -27.5572, 0), (0, 0, 90))):
            Circle(MIRROR2_COPY_1_SKETCH_R, mode=Mode.SUBTRACT)
    extrude(amount=MIRROR2_COPY_1_DEPTH)

    # Fillet4 of Mirror2
    fillet4_of_mirror2_edges = [part_1.edges().sort_by_distance(p)[0] for p in [
        (-41.421837316, 36.515, 23.330598691),
    ]]
    fillet(fillet4_of_mirror2_edges, radius=FILLET4_OF_MIRROR2_R)


solid = Compound([body_2.part, part_1.part])
